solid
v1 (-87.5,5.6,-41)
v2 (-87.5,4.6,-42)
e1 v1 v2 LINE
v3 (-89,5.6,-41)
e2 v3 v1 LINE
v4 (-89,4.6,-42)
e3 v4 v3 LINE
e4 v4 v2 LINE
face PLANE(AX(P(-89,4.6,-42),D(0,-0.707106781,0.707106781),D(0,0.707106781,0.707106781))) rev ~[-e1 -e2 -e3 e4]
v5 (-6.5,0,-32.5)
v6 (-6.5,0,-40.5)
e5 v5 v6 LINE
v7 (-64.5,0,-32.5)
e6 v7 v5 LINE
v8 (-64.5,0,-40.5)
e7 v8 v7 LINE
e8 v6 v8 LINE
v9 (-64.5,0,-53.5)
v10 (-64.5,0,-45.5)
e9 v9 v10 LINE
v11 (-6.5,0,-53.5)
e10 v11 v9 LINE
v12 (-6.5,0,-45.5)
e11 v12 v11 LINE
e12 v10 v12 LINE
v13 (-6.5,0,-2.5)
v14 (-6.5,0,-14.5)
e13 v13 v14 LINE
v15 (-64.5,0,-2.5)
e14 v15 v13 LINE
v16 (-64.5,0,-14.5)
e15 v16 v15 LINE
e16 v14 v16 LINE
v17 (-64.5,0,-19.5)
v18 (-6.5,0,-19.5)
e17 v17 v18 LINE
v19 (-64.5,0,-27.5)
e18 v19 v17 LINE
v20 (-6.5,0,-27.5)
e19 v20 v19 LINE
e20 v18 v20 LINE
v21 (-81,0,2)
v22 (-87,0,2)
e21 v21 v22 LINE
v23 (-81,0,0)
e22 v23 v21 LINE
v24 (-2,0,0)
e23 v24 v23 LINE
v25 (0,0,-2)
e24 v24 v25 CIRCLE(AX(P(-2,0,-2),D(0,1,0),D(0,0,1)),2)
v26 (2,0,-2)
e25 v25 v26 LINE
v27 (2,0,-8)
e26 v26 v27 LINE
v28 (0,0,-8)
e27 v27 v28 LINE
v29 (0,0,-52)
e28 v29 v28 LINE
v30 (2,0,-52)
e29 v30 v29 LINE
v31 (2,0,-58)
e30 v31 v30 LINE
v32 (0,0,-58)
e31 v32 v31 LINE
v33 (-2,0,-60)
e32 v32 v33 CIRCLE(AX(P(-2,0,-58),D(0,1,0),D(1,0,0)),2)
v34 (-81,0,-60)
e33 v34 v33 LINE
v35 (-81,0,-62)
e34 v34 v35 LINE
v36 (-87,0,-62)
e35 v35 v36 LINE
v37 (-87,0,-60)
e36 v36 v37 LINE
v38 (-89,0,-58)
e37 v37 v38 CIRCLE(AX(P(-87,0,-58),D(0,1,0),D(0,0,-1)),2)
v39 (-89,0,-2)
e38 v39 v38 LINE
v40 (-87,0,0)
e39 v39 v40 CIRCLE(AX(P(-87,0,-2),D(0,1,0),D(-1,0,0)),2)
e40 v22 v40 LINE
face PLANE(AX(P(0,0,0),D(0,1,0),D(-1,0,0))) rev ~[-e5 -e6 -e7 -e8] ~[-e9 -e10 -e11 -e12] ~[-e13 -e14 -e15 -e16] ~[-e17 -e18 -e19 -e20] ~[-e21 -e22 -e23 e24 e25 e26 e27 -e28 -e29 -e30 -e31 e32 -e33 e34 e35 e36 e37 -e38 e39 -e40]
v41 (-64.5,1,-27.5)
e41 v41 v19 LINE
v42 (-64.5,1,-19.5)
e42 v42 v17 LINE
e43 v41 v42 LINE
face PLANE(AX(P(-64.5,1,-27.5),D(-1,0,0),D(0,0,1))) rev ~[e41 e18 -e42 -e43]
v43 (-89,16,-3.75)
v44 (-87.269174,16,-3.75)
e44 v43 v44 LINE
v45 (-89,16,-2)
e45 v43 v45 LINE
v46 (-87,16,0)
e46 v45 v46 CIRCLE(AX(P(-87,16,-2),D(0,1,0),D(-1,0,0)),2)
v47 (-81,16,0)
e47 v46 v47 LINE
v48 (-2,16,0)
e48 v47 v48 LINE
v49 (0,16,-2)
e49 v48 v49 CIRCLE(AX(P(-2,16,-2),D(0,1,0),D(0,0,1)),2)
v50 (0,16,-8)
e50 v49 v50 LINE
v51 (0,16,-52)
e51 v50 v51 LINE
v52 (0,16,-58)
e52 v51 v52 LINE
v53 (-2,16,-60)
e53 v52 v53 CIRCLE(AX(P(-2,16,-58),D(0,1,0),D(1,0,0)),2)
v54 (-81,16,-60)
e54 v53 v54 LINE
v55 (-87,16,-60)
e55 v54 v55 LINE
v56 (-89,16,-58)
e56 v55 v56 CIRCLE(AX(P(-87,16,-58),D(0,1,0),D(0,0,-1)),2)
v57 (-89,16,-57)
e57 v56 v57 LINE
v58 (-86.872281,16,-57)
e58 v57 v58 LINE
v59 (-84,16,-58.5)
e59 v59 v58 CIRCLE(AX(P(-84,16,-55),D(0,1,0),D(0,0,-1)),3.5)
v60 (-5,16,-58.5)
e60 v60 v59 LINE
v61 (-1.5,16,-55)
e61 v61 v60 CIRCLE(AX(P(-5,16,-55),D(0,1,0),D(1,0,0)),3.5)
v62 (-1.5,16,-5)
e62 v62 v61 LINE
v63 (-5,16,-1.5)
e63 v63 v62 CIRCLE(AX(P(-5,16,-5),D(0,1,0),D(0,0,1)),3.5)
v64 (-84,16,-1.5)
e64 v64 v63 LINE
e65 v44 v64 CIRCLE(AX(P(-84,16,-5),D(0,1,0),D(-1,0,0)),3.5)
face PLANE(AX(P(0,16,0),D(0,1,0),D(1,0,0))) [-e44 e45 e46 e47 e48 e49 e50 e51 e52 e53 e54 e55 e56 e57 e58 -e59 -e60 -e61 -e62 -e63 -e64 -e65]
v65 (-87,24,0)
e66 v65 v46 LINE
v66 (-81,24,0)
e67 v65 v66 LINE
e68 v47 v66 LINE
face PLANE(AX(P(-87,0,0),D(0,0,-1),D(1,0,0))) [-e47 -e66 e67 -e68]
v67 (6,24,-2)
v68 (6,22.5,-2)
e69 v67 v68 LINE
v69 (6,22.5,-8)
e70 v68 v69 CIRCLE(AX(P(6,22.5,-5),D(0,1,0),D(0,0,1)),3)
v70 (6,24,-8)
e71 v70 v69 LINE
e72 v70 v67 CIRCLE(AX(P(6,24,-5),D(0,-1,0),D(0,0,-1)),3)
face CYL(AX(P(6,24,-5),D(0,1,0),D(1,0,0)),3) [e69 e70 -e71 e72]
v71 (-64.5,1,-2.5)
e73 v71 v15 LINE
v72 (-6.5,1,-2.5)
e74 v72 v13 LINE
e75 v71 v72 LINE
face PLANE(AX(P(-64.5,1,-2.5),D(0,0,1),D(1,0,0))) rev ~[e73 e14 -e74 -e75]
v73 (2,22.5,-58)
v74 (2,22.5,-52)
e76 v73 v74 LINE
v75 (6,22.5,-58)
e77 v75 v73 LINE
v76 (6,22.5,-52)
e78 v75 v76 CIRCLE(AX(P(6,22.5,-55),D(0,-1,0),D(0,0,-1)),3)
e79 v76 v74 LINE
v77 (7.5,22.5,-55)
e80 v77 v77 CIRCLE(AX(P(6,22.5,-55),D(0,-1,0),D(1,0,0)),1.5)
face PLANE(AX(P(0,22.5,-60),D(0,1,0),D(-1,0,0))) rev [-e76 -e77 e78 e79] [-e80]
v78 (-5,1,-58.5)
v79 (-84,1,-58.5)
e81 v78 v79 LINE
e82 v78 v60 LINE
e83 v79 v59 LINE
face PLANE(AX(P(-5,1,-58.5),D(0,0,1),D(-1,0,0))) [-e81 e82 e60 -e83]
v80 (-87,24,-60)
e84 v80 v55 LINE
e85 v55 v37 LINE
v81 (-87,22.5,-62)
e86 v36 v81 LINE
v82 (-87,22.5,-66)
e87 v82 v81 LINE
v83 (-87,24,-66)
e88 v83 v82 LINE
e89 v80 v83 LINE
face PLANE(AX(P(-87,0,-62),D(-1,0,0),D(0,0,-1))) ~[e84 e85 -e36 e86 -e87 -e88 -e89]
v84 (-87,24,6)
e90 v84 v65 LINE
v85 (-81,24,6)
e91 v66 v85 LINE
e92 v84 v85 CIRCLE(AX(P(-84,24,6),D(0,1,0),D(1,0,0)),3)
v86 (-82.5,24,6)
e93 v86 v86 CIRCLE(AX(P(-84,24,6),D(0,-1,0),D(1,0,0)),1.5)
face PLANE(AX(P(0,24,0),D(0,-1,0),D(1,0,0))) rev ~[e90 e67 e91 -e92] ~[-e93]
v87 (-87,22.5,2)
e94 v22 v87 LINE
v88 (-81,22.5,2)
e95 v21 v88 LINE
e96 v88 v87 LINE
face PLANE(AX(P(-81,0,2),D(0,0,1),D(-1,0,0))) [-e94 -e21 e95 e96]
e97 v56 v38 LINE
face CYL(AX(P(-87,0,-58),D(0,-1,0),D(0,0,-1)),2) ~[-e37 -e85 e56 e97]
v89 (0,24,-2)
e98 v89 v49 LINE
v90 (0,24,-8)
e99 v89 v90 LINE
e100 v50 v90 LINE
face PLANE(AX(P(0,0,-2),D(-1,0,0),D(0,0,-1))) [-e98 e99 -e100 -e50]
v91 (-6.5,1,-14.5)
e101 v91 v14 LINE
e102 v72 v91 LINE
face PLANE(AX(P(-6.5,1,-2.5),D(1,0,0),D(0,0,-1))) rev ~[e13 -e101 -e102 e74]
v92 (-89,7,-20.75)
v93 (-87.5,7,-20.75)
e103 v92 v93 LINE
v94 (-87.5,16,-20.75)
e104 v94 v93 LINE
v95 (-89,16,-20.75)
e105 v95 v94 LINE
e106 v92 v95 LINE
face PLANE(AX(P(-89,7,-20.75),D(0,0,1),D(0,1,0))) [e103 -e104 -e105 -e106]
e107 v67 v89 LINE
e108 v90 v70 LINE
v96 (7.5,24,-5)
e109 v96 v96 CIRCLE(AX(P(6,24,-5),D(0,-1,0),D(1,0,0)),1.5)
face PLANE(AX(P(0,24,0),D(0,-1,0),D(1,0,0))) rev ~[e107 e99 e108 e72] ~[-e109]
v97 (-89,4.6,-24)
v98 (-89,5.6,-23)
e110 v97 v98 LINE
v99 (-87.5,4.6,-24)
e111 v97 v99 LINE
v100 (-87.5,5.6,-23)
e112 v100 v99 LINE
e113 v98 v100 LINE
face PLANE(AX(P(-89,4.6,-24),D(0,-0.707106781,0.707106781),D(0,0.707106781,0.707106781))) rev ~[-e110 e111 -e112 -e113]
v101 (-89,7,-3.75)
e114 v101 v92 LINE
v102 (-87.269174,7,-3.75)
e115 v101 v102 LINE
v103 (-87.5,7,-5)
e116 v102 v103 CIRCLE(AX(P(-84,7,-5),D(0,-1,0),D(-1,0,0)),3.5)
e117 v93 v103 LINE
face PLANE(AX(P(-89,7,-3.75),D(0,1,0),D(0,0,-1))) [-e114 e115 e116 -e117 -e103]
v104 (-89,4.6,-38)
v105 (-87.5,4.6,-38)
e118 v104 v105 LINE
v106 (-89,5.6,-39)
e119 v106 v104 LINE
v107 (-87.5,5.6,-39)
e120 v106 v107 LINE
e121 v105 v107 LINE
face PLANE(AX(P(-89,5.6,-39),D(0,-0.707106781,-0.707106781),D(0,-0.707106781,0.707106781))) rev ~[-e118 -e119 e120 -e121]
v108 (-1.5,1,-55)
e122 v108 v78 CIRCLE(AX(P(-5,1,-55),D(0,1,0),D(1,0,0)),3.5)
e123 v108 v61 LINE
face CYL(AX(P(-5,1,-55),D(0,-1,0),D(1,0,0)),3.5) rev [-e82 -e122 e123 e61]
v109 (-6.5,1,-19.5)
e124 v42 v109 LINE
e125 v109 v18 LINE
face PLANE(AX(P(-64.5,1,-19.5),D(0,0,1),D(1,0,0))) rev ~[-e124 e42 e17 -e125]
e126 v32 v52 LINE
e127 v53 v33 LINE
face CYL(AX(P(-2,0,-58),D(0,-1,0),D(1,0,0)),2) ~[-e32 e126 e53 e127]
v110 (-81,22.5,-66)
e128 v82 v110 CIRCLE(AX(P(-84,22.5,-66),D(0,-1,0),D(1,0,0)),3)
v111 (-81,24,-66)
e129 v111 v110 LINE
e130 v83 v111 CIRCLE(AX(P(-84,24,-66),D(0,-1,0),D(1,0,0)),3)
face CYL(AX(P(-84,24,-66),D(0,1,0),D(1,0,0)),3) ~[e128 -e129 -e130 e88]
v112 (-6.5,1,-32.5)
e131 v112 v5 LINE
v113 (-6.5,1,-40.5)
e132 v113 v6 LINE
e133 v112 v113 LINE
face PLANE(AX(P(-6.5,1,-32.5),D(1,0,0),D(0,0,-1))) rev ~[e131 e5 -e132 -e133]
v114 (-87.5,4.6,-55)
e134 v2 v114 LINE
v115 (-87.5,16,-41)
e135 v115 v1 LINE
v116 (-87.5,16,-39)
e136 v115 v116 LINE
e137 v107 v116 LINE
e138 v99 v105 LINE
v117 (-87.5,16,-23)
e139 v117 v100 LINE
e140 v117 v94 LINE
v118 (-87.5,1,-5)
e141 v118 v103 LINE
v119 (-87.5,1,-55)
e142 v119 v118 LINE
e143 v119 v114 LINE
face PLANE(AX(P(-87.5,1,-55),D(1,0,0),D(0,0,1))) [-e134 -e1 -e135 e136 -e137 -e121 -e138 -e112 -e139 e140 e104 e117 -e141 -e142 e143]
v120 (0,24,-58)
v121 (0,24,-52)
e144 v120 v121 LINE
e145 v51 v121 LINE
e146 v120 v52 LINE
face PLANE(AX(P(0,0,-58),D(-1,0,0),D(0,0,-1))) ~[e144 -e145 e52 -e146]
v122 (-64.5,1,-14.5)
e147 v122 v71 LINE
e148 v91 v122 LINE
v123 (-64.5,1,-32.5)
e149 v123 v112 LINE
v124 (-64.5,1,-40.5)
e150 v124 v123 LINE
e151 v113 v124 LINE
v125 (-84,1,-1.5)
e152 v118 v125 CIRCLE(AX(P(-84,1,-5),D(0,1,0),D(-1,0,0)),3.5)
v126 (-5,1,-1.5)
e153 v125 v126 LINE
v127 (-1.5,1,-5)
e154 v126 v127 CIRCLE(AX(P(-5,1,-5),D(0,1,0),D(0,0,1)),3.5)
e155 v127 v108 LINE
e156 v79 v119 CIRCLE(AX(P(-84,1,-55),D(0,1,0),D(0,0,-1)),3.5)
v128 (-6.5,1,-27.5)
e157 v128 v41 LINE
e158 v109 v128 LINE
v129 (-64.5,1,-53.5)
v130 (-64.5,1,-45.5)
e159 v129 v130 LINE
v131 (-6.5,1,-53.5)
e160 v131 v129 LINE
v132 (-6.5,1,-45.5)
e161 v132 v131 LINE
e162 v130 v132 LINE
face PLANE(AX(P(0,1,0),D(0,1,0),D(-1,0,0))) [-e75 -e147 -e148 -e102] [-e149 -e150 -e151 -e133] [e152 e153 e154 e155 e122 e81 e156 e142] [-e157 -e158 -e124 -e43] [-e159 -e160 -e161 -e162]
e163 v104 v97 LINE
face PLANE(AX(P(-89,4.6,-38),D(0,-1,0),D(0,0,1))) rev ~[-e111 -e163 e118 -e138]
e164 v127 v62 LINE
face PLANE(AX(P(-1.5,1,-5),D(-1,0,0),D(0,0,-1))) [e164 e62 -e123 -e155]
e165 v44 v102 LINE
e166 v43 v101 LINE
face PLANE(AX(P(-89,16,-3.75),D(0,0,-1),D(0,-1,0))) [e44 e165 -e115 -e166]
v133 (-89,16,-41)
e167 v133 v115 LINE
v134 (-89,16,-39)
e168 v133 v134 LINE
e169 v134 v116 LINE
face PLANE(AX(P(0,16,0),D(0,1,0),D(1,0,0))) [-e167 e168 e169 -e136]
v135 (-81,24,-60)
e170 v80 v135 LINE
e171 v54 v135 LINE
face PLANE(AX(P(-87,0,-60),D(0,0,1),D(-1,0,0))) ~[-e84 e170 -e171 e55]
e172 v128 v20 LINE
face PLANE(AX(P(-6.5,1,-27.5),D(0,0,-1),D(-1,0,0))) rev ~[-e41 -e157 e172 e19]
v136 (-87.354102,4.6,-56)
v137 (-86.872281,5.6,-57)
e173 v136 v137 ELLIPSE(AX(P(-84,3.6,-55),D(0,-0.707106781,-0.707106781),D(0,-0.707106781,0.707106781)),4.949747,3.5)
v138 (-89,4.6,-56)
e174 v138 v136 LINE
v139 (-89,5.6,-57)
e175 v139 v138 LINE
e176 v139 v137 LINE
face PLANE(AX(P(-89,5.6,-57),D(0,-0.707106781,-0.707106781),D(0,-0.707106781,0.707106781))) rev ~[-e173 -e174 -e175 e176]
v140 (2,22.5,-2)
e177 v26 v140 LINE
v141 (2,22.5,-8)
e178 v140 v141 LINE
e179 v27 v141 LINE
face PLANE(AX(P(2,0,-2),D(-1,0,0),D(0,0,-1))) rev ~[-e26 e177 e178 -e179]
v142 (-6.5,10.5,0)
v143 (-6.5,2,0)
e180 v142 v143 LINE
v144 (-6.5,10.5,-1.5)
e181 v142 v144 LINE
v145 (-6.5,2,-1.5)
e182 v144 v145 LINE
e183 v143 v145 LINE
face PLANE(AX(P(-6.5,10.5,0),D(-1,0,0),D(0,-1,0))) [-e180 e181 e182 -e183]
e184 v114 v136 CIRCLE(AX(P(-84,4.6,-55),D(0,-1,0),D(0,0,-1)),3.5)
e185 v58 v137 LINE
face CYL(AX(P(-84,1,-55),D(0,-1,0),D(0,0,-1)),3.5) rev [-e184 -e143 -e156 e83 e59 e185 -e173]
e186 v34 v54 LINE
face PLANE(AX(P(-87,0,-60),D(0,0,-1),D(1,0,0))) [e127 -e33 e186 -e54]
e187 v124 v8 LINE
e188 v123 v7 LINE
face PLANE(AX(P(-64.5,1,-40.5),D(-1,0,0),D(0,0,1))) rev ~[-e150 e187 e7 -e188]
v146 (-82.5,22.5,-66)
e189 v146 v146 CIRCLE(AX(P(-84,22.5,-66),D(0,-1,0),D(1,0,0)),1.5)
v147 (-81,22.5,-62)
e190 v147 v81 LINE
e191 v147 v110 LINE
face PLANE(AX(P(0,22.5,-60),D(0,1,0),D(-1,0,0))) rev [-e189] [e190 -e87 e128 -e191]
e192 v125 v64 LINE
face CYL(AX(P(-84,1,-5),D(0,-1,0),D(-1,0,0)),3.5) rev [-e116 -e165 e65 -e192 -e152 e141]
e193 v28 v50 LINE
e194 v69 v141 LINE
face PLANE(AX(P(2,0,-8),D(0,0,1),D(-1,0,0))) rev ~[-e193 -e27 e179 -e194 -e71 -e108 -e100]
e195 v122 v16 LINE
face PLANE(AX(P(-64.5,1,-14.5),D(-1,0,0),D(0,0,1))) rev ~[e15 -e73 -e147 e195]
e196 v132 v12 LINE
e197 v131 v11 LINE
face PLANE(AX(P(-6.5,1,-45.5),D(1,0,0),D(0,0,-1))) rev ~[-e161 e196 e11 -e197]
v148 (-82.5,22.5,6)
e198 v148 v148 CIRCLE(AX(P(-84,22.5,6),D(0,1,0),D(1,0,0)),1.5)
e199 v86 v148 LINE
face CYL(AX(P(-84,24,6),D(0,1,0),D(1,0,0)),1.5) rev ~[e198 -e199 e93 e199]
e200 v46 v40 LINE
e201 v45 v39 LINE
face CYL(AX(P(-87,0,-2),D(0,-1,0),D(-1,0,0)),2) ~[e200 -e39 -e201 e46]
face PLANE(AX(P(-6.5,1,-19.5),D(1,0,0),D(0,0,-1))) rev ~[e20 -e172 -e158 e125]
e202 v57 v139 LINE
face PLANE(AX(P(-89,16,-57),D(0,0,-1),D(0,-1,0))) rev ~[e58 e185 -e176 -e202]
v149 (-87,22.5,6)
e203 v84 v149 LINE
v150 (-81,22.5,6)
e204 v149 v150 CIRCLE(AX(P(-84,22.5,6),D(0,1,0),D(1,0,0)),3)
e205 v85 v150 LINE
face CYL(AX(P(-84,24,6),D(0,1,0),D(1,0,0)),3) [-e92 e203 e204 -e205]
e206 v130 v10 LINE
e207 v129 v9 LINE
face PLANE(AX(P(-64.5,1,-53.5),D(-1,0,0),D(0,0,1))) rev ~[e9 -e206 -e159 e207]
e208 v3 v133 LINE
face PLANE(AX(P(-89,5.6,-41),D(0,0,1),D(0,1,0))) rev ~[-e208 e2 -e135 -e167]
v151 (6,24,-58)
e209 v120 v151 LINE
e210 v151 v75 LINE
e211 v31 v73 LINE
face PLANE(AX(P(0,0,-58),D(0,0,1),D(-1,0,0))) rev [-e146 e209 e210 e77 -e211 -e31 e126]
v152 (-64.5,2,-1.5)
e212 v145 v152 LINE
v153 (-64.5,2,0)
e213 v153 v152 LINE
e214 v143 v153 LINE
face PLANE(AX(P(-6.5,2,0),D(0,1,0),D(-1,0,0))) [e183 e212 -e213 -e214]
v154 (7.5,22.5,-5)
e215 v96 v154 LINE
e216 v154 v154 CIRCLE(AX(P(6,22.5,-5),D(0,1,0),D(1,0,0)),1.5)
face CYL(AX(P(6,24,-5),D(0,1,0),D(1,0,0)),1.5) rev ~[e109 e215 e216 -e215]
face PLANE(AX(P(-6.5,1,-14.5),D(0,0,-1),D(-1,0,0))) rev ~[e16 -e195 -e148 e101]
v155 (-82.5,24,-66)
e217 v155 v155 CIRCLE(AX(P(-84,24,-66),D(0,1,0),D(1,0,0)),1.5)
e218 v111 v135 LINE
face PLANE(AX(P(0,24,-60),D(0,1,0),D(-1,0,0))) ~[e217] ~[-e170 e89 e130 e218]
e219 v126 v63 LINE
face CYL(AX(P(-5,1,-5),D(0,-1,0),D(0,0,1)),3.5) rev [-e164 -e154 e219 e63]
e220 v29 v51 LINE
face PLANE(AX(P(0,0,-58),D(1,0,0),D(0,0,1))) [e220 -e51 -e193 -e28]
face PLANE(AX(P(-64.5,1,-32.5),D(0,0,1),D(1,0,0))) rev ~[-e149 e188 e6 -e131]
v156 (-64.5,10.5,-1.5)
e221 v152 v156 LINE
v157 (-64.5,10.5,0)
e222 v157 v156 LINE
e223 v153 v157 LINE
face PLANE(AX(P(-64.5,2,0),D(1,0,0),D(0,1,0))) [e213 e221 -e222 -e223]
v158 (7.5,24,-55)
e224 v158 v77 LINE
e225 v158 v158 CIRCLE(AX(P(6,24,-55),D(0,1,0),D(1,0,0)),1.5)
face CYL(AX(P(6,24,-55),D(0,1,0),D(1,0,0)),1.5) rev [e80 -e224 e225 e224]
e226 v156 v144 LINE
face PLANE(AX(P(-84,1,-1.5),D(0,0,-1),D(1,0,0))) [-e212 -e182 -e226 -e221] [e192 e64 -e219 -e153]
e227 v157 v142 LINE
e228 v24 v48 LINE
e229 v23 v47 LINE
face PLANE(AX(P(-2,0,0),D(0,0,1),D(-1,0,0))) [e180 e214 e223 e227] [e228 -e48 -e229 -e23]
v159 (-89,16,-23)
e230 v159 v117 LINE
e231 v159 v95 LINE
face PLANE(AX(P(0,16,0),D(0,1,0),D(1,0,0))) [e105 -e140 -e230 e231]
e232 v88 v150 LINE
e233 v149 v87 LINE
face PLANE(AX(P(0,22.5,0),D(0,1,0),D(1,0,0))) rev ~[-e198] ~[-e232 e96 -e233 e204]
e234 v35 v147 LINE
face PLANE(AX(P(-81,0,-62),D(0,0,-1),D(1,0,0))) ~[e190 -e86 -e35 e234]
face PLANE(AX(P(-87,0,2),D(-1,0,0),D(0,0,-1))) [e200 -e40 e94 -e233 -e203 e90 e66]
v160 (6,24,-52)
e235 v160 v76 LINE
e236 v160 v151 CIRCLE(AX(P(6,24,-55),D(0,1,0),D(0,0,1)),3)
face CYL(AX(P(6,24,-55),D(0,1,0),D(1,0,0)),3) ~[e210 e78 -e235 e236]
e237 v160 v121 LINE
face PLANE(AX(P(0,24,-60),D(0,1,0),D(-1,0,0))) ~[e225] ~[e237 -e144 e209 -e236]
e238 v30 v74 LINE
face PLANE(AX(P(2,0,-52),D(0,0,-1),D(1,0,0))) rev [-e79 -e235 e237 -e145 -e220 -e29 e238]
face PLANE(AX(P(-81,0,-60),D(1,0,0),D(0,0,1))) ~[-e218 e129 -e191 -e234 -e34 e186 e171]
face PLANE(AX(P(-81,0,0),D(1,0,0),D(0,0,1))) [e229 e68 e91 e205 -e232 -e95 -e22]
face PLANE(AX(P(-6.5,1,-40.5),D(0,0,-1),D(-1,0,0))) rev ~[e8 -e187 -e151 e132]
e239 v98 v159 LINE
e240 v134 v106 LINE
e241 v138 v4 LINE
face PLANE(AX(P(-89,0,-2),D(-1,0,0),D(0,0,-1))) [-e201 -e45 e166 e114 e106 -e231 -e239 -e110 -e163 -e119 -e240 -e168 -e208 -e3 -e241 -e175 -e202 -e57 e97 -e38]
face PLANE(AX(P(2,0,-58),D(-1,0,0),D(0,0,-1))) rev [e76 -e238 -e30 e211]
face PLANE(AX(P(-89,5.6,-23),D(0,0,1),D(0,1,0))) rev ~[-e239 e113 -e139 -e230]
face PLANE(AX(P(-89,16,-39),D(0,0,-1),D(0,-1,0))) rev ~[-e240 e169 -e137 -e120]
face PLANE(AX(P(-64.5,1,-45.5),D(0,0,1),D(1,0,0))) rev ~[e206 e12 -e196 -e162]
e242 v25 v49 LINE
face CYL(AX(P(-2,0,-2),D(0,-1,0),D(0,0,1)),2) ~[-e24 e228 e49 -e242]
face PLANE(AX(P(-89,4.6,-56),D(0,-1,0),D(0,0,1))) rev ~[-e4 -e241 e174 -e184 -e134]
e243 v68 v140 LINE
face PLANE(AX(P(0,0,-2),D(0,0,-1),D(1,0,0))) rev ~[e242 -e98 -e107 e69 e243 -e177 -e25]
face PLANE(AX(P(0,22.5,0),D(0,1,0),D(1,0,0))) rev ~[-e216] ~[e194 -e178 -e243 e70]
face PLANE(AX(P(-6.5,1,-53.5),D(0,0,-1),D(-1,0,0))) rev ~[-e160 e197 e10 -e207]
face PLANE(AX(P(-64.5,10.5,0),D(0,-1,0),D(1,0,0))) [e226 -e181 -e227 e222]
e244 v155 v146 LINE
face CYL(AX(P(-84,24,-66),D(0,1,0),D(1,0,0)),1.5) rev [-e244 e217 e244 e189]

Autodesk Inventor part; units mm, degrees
ref_plane "YZ Plane" through (0, 0, 0) normal (1, 0, 0) x (0, 1, 0)
ref_plane "XZ Plane" through (0, 0, 0) normal (0, 1, 0) x (-1, 0, 0)
sketch "Sketch1" plane through (0, 0, 0) normal (0, 1, 0) x (-1, 0, 0)
  line L0 (2, 0) -> (87, 0)
  line L1 (89, -2) -> (89, -58)
  line L2 (87, -60) -> (2, -60)
  line L3 (0, -58) -> (0, -2)
  arc A0 (2, 0) -> (0, -2) centre (2, -2) ccw
  arc A1 (0, -58) -> (2, -60) centre (2, -58) ccw
  arc A2 (87, -60) -> (89, -58) centre (87, -58) ccw
  arc A3 (89, -2) -> (87, 0) centre (87, -2) ccw
  point P0 (0, 0)
  point P1 (89, -60)
  point P2 (0, -60)
  dimension "d0" = 60
  dimension "d1" = 89
  dimension "d2" = 2
extrude "Extrusion1" add sketch "Sketch1" along normal blind 1
sketch "Sketch2" plane through (0, 1, 0) normal (0, 1, 0) x (1, 0, 0)
  line L0 (-87, 0) -> (-2, 0)
  line L1 (0, 2) -> (0, 58)
  line L2 (-2, 60) -> (-87, 60)
  line L3 (-89, 58) -> (-89, 2)
  line L4 (-89, 58) -> (-89, 2) projected
  line L5 (-87, 0) -> (-2, 0) projected
  line L6 (0, 2) -> (0, 58) projected
  line L7 (-2, 60) -> (-87, 60) projected
  arc A0 (-89, 2) -> (-87, 0) centre (-87, 2) ccw
  arc A1 (-87, 60) -> (-89, 58) centre (-87, 58) ccw
  arc A2 (0, 58) -> (-2, 60) centre (-2, 58) ccw
  arc A3 (-2, 0) -> (0, 2) centre (-2, 2) ccw
  line L8 (-84, 1.5) -> (-5, 1.5)
  line L9 (-1.5, 5) -> (-1.5, 55)
  line L10 (-5, 58.5) -> (-84, 58.5)
  line L11 (-87.5, 55) -> (-87.5, 5)
  arc A4 (-5, 1.5) -> (-1.5, 5) centre (-5, 5) ccw
  arc A5 (-1.5, 55) -> (-5, 58.5) centre (-5, 55) ccw
  arc A6 (-84, 58.5) -> (-87.5, 55) centre (-84, 55) ccw
  arc A7 (-87.5, 5) -> (-84, 1.5) centre (-84, 5) ccw
  point P0 (0, 0)
  dimension "d5" = 2
  dimension "d6" = 1.5
  dimension "d7" = 1.5
  dimension "d8" = 1.5
  dimension "d9" = 1.5
  dimension "d10" = 3.5
extrude "Extrusion2" add sketch "Sketch2" along normal blind 15
sketch "Sketch3" plane through (-87, 0, 0) normal (0, 0, 1) x (1, 0, 0)
  line L0 (22.5, 10.5) -> (80.5, 10.5)
  line L1 (80.5, 10.5) -> (80.5, 2)
  line L2 (80.5, 2) -> (22.5, 2)
  line L3 (22.5, 2) -> (22.5, 10.5)
  line L4 (87, 0) -> (87, 16) projected
  line L5 (0, 0) -> (85, 0) projected
  dimension "d13" = 58
  dimension "d14" = 8.5
  dimension "d15" = 6.5
  dimension "d16" = 2
extrude "Extrusion3" cut sketch "Sketch3" against normal up to surface (1.5 mm away)
sketch "Sketch4" plane through (0, 1, 0) normal (0, 1, 0) x (1, 0, 0)
  line L0 (-64.5, 1.5) -> (-6.5, 1.5) projected
  line L1 (-64.5, 2.5) -> (-6.5, 2.5)
  line L2 (-6.5, 2.5) -> (-6.5, 14.5)
  line L3 (-6.5, 14.5) -> (-64.5, 14.5)
  line L4 (-64.5, 14.5) -> (-64.5, 2.5)
  line L5 (-6.5, 1.5) -> (-6.5, 2.5) construction
  point P0 (0, 0)
  dimension "d19" = 12
  dimension "d20" = 58
  dimension "d21" = 1
extrude "Extrusion4" cut sketch "Sketch4" against normal up to surface (1 mm away)
sketch "Sketch5" plane through (0, 1, 0) normal (0, 1, 0) x (1, 0, 0)
  line L0 (-64.5, 19.5) -> (-6.5, 19.5)
  line L1 (-6.5, 19.5) -> (-6.5, 27.5)
  line L2 (-6.5, 27.5) -> (-64.5, 27.5)
  line L3 (-64.5, 27.5) -> (-64.5, 19.5)
  line L4 (-64.5, 2.5) -> (-64.5, 14.5) projected
  line L5 (-64.5, 14.5) -> (-6.5, 14.5) projected
  line L6 (-64.5, 32.5) -> (-6.5, 32.5)
  line L7 (-6.5, 32.5) -> (-6.5, 40.5)
  line L8 (-6.5, 40.5) -> (-64.5, 40.5)
  line L9 (-64.5, 40.5) -> (-64.5, 32.5)
  line L10 (-64.5, 45.5) -> (-6.5, 45.5)
  line L11 (-6.5, 45.5) -> (-6.5, 53.5)
  line L12 (-6.5, 53.5) -> (-64.5, 53.5)
  line L13 (-64.5, 53.5) -> (-64.5, 45.5)
  point P0 (0, 0)
  dimension "d24" = 8
  dimension "d25" = 58
  dimension "d26" = 5
  dimension "d27" = 5
  dimension "d28" = 8
  dimension "d29" = 58
  dimension "d30" = 5
  dimension "d31" = 8
extrude "Extrusion5" cut sketch "Sketch5" against normal up to surface (1 mm away)
sketch "Sketch6" plane through (-89, 0, -58) normal (-1, 0, 0) x (0, 0, 1)
  line L0 (54.25, 7) -> (37.25, 7)
  line L1 (37.25, 7) -> (37.25, 16)
  line L2 (37.25, 16) -> (54.25, 16)
  line L3 (54.25, 16) -> (54.25, 7)
  line L4 (0, 0) -> (56, 0) projected
  line L5 (0, 16) -> (56, 16) projected
  line L6 (58, 0) -> (58, 16) projected
  dimension "d34" = 7
  dimension "d35" = 3.75
  dimension "d36" = 17
extrude "Extrusion6" cut sketch "Sketch6" against normal blind 2
sketch "Sketch7" plane through (-89, 0, -58) normal (-1, 0, 0) x (0, 0, 1)
  line L0 (35, 16) -> (19, 16)
  line L1 (19, 16) -> (19, 5.6)
  line L2 (19, 5.6) -> (20, 4.6)
  line L3 (20, 4.6) -> (34, 4.6)
  line L4 (34, 4.6) -> (35, 5.6)
  line L5 (35, 5.6) -> (35, 16)
  line L6 (37.25, 7) -> (37.25, 16) projected
  line L7 (0, 16) -> (37.25, 16) projected
  line L8 (0, 0) -> (56, 0) projected
  line L9 (2, 4.6) -> (16, 4.6)
  line L10 (16, 4.6) -> (17, 5.6)
  line L11 (17, 5.6) -> (17, 16)
  line L12 (17, 16) -> (1, 16)
  line L13 (1, 16) -> (1, 5.6)
  line L14 (1, 5.6) -> (2, 4.6)
  point P0 (58, 0)
  point P1 (17, 16)
  point P2 (1, 16)
  dimension "d39" = 2.25
  dimension "d40" = 14
  dimension "d41" = 16
  dimension "d42" = 4.6
  dimension "d45" = 18
extrude "Extrusion7" cut sketch "Sketch7" against normal blind 2.5
sketch "Sketch8" plane through (0, 0, 0) normal (0, -1, 0) x (1, 0, 0)
  line L0 (0, -2) -> (0, -58) projected
  line L1 (0, -2) -> (2, -2)
  line L2 (2, -2) -> (2, -8)
  line L3 (2, -8) -> (0, -8)
  line L4 (0, -8) -> (0, -2)
  line L5 (-87, 0) -> (-2, 0) projected
  line L6 (-87, 0) -> (-81, 0)
  line L7 (-81, 0) -> (-81, 2)
  line L8 (-81, 2) -> (-87, 2)
  line L9 (-87, 2) -> (-87, 0)
  point P0 (0, 0)
  dimension "d52" = 6
  dimension "d53" = 2
  dimension "d54" = 6
  dimension "d55" = 2
extrude "Extrusion8" add sketch "Sketch8" against normal blind 24
sketch "Sketch9" plane through (0, 24, 0) normal (0, 1, 0) x (1, 0, 0)
  arc A0 (-89, 2) -> (-87, 0) centre (-87, 2) ccw projected
  line L0 (-87, 0) -> (-81, 0)
  line L1 (-81, 0) -> (-81, -6)
  line L2 (-81, -6) -> (-87, -6)
  line L3 (-87, -6) -> (-87, 0)
  circle A1 centre (-84, -6) radius 3
  circle A2 centre (-84, -6) radius 1.5
  line L4 (2, 8) -> (0, 8) projected
  line L5 (0, 8) -> (6, 8)
  line L6 (6, 8) -> (6, 2)
  line L7 (6, 2) -> (0, 2)
  line L8 (0, 2) -> (0, 8)
  circle A3 centre (6, 5) radius 3
  circle A4 centre (6, 5) radius 1.5
  point P0 (0, 0)
  point P1 (6, 2)
  dimension "d58" = 6
  dimension "d59" = 6
  dimension "d60" = 3
  dimension "d61" = 6
  dimension "d62" = 6
  dimension "d63" = 3
extrude "Extrusion9" add sketch "Sketch9" against normal blind 1.5 contours L0 L1 A1 L3 | A1 L2 A2 | L2 A2 A1 | L5 A3 L7 L8 L4 | A3 L6 A4 | L6 A4 A3
ref_plane "Work Plane1" through (-2, 0, -30) normal (0, 0, 1) x (1, 0, 0)
mirror "Mirror1" about plane through (-2, 0, -30) normal (0, 0, 1) of "Extrusion9", "Extrusion8"
properties part number "raspi_cover"
